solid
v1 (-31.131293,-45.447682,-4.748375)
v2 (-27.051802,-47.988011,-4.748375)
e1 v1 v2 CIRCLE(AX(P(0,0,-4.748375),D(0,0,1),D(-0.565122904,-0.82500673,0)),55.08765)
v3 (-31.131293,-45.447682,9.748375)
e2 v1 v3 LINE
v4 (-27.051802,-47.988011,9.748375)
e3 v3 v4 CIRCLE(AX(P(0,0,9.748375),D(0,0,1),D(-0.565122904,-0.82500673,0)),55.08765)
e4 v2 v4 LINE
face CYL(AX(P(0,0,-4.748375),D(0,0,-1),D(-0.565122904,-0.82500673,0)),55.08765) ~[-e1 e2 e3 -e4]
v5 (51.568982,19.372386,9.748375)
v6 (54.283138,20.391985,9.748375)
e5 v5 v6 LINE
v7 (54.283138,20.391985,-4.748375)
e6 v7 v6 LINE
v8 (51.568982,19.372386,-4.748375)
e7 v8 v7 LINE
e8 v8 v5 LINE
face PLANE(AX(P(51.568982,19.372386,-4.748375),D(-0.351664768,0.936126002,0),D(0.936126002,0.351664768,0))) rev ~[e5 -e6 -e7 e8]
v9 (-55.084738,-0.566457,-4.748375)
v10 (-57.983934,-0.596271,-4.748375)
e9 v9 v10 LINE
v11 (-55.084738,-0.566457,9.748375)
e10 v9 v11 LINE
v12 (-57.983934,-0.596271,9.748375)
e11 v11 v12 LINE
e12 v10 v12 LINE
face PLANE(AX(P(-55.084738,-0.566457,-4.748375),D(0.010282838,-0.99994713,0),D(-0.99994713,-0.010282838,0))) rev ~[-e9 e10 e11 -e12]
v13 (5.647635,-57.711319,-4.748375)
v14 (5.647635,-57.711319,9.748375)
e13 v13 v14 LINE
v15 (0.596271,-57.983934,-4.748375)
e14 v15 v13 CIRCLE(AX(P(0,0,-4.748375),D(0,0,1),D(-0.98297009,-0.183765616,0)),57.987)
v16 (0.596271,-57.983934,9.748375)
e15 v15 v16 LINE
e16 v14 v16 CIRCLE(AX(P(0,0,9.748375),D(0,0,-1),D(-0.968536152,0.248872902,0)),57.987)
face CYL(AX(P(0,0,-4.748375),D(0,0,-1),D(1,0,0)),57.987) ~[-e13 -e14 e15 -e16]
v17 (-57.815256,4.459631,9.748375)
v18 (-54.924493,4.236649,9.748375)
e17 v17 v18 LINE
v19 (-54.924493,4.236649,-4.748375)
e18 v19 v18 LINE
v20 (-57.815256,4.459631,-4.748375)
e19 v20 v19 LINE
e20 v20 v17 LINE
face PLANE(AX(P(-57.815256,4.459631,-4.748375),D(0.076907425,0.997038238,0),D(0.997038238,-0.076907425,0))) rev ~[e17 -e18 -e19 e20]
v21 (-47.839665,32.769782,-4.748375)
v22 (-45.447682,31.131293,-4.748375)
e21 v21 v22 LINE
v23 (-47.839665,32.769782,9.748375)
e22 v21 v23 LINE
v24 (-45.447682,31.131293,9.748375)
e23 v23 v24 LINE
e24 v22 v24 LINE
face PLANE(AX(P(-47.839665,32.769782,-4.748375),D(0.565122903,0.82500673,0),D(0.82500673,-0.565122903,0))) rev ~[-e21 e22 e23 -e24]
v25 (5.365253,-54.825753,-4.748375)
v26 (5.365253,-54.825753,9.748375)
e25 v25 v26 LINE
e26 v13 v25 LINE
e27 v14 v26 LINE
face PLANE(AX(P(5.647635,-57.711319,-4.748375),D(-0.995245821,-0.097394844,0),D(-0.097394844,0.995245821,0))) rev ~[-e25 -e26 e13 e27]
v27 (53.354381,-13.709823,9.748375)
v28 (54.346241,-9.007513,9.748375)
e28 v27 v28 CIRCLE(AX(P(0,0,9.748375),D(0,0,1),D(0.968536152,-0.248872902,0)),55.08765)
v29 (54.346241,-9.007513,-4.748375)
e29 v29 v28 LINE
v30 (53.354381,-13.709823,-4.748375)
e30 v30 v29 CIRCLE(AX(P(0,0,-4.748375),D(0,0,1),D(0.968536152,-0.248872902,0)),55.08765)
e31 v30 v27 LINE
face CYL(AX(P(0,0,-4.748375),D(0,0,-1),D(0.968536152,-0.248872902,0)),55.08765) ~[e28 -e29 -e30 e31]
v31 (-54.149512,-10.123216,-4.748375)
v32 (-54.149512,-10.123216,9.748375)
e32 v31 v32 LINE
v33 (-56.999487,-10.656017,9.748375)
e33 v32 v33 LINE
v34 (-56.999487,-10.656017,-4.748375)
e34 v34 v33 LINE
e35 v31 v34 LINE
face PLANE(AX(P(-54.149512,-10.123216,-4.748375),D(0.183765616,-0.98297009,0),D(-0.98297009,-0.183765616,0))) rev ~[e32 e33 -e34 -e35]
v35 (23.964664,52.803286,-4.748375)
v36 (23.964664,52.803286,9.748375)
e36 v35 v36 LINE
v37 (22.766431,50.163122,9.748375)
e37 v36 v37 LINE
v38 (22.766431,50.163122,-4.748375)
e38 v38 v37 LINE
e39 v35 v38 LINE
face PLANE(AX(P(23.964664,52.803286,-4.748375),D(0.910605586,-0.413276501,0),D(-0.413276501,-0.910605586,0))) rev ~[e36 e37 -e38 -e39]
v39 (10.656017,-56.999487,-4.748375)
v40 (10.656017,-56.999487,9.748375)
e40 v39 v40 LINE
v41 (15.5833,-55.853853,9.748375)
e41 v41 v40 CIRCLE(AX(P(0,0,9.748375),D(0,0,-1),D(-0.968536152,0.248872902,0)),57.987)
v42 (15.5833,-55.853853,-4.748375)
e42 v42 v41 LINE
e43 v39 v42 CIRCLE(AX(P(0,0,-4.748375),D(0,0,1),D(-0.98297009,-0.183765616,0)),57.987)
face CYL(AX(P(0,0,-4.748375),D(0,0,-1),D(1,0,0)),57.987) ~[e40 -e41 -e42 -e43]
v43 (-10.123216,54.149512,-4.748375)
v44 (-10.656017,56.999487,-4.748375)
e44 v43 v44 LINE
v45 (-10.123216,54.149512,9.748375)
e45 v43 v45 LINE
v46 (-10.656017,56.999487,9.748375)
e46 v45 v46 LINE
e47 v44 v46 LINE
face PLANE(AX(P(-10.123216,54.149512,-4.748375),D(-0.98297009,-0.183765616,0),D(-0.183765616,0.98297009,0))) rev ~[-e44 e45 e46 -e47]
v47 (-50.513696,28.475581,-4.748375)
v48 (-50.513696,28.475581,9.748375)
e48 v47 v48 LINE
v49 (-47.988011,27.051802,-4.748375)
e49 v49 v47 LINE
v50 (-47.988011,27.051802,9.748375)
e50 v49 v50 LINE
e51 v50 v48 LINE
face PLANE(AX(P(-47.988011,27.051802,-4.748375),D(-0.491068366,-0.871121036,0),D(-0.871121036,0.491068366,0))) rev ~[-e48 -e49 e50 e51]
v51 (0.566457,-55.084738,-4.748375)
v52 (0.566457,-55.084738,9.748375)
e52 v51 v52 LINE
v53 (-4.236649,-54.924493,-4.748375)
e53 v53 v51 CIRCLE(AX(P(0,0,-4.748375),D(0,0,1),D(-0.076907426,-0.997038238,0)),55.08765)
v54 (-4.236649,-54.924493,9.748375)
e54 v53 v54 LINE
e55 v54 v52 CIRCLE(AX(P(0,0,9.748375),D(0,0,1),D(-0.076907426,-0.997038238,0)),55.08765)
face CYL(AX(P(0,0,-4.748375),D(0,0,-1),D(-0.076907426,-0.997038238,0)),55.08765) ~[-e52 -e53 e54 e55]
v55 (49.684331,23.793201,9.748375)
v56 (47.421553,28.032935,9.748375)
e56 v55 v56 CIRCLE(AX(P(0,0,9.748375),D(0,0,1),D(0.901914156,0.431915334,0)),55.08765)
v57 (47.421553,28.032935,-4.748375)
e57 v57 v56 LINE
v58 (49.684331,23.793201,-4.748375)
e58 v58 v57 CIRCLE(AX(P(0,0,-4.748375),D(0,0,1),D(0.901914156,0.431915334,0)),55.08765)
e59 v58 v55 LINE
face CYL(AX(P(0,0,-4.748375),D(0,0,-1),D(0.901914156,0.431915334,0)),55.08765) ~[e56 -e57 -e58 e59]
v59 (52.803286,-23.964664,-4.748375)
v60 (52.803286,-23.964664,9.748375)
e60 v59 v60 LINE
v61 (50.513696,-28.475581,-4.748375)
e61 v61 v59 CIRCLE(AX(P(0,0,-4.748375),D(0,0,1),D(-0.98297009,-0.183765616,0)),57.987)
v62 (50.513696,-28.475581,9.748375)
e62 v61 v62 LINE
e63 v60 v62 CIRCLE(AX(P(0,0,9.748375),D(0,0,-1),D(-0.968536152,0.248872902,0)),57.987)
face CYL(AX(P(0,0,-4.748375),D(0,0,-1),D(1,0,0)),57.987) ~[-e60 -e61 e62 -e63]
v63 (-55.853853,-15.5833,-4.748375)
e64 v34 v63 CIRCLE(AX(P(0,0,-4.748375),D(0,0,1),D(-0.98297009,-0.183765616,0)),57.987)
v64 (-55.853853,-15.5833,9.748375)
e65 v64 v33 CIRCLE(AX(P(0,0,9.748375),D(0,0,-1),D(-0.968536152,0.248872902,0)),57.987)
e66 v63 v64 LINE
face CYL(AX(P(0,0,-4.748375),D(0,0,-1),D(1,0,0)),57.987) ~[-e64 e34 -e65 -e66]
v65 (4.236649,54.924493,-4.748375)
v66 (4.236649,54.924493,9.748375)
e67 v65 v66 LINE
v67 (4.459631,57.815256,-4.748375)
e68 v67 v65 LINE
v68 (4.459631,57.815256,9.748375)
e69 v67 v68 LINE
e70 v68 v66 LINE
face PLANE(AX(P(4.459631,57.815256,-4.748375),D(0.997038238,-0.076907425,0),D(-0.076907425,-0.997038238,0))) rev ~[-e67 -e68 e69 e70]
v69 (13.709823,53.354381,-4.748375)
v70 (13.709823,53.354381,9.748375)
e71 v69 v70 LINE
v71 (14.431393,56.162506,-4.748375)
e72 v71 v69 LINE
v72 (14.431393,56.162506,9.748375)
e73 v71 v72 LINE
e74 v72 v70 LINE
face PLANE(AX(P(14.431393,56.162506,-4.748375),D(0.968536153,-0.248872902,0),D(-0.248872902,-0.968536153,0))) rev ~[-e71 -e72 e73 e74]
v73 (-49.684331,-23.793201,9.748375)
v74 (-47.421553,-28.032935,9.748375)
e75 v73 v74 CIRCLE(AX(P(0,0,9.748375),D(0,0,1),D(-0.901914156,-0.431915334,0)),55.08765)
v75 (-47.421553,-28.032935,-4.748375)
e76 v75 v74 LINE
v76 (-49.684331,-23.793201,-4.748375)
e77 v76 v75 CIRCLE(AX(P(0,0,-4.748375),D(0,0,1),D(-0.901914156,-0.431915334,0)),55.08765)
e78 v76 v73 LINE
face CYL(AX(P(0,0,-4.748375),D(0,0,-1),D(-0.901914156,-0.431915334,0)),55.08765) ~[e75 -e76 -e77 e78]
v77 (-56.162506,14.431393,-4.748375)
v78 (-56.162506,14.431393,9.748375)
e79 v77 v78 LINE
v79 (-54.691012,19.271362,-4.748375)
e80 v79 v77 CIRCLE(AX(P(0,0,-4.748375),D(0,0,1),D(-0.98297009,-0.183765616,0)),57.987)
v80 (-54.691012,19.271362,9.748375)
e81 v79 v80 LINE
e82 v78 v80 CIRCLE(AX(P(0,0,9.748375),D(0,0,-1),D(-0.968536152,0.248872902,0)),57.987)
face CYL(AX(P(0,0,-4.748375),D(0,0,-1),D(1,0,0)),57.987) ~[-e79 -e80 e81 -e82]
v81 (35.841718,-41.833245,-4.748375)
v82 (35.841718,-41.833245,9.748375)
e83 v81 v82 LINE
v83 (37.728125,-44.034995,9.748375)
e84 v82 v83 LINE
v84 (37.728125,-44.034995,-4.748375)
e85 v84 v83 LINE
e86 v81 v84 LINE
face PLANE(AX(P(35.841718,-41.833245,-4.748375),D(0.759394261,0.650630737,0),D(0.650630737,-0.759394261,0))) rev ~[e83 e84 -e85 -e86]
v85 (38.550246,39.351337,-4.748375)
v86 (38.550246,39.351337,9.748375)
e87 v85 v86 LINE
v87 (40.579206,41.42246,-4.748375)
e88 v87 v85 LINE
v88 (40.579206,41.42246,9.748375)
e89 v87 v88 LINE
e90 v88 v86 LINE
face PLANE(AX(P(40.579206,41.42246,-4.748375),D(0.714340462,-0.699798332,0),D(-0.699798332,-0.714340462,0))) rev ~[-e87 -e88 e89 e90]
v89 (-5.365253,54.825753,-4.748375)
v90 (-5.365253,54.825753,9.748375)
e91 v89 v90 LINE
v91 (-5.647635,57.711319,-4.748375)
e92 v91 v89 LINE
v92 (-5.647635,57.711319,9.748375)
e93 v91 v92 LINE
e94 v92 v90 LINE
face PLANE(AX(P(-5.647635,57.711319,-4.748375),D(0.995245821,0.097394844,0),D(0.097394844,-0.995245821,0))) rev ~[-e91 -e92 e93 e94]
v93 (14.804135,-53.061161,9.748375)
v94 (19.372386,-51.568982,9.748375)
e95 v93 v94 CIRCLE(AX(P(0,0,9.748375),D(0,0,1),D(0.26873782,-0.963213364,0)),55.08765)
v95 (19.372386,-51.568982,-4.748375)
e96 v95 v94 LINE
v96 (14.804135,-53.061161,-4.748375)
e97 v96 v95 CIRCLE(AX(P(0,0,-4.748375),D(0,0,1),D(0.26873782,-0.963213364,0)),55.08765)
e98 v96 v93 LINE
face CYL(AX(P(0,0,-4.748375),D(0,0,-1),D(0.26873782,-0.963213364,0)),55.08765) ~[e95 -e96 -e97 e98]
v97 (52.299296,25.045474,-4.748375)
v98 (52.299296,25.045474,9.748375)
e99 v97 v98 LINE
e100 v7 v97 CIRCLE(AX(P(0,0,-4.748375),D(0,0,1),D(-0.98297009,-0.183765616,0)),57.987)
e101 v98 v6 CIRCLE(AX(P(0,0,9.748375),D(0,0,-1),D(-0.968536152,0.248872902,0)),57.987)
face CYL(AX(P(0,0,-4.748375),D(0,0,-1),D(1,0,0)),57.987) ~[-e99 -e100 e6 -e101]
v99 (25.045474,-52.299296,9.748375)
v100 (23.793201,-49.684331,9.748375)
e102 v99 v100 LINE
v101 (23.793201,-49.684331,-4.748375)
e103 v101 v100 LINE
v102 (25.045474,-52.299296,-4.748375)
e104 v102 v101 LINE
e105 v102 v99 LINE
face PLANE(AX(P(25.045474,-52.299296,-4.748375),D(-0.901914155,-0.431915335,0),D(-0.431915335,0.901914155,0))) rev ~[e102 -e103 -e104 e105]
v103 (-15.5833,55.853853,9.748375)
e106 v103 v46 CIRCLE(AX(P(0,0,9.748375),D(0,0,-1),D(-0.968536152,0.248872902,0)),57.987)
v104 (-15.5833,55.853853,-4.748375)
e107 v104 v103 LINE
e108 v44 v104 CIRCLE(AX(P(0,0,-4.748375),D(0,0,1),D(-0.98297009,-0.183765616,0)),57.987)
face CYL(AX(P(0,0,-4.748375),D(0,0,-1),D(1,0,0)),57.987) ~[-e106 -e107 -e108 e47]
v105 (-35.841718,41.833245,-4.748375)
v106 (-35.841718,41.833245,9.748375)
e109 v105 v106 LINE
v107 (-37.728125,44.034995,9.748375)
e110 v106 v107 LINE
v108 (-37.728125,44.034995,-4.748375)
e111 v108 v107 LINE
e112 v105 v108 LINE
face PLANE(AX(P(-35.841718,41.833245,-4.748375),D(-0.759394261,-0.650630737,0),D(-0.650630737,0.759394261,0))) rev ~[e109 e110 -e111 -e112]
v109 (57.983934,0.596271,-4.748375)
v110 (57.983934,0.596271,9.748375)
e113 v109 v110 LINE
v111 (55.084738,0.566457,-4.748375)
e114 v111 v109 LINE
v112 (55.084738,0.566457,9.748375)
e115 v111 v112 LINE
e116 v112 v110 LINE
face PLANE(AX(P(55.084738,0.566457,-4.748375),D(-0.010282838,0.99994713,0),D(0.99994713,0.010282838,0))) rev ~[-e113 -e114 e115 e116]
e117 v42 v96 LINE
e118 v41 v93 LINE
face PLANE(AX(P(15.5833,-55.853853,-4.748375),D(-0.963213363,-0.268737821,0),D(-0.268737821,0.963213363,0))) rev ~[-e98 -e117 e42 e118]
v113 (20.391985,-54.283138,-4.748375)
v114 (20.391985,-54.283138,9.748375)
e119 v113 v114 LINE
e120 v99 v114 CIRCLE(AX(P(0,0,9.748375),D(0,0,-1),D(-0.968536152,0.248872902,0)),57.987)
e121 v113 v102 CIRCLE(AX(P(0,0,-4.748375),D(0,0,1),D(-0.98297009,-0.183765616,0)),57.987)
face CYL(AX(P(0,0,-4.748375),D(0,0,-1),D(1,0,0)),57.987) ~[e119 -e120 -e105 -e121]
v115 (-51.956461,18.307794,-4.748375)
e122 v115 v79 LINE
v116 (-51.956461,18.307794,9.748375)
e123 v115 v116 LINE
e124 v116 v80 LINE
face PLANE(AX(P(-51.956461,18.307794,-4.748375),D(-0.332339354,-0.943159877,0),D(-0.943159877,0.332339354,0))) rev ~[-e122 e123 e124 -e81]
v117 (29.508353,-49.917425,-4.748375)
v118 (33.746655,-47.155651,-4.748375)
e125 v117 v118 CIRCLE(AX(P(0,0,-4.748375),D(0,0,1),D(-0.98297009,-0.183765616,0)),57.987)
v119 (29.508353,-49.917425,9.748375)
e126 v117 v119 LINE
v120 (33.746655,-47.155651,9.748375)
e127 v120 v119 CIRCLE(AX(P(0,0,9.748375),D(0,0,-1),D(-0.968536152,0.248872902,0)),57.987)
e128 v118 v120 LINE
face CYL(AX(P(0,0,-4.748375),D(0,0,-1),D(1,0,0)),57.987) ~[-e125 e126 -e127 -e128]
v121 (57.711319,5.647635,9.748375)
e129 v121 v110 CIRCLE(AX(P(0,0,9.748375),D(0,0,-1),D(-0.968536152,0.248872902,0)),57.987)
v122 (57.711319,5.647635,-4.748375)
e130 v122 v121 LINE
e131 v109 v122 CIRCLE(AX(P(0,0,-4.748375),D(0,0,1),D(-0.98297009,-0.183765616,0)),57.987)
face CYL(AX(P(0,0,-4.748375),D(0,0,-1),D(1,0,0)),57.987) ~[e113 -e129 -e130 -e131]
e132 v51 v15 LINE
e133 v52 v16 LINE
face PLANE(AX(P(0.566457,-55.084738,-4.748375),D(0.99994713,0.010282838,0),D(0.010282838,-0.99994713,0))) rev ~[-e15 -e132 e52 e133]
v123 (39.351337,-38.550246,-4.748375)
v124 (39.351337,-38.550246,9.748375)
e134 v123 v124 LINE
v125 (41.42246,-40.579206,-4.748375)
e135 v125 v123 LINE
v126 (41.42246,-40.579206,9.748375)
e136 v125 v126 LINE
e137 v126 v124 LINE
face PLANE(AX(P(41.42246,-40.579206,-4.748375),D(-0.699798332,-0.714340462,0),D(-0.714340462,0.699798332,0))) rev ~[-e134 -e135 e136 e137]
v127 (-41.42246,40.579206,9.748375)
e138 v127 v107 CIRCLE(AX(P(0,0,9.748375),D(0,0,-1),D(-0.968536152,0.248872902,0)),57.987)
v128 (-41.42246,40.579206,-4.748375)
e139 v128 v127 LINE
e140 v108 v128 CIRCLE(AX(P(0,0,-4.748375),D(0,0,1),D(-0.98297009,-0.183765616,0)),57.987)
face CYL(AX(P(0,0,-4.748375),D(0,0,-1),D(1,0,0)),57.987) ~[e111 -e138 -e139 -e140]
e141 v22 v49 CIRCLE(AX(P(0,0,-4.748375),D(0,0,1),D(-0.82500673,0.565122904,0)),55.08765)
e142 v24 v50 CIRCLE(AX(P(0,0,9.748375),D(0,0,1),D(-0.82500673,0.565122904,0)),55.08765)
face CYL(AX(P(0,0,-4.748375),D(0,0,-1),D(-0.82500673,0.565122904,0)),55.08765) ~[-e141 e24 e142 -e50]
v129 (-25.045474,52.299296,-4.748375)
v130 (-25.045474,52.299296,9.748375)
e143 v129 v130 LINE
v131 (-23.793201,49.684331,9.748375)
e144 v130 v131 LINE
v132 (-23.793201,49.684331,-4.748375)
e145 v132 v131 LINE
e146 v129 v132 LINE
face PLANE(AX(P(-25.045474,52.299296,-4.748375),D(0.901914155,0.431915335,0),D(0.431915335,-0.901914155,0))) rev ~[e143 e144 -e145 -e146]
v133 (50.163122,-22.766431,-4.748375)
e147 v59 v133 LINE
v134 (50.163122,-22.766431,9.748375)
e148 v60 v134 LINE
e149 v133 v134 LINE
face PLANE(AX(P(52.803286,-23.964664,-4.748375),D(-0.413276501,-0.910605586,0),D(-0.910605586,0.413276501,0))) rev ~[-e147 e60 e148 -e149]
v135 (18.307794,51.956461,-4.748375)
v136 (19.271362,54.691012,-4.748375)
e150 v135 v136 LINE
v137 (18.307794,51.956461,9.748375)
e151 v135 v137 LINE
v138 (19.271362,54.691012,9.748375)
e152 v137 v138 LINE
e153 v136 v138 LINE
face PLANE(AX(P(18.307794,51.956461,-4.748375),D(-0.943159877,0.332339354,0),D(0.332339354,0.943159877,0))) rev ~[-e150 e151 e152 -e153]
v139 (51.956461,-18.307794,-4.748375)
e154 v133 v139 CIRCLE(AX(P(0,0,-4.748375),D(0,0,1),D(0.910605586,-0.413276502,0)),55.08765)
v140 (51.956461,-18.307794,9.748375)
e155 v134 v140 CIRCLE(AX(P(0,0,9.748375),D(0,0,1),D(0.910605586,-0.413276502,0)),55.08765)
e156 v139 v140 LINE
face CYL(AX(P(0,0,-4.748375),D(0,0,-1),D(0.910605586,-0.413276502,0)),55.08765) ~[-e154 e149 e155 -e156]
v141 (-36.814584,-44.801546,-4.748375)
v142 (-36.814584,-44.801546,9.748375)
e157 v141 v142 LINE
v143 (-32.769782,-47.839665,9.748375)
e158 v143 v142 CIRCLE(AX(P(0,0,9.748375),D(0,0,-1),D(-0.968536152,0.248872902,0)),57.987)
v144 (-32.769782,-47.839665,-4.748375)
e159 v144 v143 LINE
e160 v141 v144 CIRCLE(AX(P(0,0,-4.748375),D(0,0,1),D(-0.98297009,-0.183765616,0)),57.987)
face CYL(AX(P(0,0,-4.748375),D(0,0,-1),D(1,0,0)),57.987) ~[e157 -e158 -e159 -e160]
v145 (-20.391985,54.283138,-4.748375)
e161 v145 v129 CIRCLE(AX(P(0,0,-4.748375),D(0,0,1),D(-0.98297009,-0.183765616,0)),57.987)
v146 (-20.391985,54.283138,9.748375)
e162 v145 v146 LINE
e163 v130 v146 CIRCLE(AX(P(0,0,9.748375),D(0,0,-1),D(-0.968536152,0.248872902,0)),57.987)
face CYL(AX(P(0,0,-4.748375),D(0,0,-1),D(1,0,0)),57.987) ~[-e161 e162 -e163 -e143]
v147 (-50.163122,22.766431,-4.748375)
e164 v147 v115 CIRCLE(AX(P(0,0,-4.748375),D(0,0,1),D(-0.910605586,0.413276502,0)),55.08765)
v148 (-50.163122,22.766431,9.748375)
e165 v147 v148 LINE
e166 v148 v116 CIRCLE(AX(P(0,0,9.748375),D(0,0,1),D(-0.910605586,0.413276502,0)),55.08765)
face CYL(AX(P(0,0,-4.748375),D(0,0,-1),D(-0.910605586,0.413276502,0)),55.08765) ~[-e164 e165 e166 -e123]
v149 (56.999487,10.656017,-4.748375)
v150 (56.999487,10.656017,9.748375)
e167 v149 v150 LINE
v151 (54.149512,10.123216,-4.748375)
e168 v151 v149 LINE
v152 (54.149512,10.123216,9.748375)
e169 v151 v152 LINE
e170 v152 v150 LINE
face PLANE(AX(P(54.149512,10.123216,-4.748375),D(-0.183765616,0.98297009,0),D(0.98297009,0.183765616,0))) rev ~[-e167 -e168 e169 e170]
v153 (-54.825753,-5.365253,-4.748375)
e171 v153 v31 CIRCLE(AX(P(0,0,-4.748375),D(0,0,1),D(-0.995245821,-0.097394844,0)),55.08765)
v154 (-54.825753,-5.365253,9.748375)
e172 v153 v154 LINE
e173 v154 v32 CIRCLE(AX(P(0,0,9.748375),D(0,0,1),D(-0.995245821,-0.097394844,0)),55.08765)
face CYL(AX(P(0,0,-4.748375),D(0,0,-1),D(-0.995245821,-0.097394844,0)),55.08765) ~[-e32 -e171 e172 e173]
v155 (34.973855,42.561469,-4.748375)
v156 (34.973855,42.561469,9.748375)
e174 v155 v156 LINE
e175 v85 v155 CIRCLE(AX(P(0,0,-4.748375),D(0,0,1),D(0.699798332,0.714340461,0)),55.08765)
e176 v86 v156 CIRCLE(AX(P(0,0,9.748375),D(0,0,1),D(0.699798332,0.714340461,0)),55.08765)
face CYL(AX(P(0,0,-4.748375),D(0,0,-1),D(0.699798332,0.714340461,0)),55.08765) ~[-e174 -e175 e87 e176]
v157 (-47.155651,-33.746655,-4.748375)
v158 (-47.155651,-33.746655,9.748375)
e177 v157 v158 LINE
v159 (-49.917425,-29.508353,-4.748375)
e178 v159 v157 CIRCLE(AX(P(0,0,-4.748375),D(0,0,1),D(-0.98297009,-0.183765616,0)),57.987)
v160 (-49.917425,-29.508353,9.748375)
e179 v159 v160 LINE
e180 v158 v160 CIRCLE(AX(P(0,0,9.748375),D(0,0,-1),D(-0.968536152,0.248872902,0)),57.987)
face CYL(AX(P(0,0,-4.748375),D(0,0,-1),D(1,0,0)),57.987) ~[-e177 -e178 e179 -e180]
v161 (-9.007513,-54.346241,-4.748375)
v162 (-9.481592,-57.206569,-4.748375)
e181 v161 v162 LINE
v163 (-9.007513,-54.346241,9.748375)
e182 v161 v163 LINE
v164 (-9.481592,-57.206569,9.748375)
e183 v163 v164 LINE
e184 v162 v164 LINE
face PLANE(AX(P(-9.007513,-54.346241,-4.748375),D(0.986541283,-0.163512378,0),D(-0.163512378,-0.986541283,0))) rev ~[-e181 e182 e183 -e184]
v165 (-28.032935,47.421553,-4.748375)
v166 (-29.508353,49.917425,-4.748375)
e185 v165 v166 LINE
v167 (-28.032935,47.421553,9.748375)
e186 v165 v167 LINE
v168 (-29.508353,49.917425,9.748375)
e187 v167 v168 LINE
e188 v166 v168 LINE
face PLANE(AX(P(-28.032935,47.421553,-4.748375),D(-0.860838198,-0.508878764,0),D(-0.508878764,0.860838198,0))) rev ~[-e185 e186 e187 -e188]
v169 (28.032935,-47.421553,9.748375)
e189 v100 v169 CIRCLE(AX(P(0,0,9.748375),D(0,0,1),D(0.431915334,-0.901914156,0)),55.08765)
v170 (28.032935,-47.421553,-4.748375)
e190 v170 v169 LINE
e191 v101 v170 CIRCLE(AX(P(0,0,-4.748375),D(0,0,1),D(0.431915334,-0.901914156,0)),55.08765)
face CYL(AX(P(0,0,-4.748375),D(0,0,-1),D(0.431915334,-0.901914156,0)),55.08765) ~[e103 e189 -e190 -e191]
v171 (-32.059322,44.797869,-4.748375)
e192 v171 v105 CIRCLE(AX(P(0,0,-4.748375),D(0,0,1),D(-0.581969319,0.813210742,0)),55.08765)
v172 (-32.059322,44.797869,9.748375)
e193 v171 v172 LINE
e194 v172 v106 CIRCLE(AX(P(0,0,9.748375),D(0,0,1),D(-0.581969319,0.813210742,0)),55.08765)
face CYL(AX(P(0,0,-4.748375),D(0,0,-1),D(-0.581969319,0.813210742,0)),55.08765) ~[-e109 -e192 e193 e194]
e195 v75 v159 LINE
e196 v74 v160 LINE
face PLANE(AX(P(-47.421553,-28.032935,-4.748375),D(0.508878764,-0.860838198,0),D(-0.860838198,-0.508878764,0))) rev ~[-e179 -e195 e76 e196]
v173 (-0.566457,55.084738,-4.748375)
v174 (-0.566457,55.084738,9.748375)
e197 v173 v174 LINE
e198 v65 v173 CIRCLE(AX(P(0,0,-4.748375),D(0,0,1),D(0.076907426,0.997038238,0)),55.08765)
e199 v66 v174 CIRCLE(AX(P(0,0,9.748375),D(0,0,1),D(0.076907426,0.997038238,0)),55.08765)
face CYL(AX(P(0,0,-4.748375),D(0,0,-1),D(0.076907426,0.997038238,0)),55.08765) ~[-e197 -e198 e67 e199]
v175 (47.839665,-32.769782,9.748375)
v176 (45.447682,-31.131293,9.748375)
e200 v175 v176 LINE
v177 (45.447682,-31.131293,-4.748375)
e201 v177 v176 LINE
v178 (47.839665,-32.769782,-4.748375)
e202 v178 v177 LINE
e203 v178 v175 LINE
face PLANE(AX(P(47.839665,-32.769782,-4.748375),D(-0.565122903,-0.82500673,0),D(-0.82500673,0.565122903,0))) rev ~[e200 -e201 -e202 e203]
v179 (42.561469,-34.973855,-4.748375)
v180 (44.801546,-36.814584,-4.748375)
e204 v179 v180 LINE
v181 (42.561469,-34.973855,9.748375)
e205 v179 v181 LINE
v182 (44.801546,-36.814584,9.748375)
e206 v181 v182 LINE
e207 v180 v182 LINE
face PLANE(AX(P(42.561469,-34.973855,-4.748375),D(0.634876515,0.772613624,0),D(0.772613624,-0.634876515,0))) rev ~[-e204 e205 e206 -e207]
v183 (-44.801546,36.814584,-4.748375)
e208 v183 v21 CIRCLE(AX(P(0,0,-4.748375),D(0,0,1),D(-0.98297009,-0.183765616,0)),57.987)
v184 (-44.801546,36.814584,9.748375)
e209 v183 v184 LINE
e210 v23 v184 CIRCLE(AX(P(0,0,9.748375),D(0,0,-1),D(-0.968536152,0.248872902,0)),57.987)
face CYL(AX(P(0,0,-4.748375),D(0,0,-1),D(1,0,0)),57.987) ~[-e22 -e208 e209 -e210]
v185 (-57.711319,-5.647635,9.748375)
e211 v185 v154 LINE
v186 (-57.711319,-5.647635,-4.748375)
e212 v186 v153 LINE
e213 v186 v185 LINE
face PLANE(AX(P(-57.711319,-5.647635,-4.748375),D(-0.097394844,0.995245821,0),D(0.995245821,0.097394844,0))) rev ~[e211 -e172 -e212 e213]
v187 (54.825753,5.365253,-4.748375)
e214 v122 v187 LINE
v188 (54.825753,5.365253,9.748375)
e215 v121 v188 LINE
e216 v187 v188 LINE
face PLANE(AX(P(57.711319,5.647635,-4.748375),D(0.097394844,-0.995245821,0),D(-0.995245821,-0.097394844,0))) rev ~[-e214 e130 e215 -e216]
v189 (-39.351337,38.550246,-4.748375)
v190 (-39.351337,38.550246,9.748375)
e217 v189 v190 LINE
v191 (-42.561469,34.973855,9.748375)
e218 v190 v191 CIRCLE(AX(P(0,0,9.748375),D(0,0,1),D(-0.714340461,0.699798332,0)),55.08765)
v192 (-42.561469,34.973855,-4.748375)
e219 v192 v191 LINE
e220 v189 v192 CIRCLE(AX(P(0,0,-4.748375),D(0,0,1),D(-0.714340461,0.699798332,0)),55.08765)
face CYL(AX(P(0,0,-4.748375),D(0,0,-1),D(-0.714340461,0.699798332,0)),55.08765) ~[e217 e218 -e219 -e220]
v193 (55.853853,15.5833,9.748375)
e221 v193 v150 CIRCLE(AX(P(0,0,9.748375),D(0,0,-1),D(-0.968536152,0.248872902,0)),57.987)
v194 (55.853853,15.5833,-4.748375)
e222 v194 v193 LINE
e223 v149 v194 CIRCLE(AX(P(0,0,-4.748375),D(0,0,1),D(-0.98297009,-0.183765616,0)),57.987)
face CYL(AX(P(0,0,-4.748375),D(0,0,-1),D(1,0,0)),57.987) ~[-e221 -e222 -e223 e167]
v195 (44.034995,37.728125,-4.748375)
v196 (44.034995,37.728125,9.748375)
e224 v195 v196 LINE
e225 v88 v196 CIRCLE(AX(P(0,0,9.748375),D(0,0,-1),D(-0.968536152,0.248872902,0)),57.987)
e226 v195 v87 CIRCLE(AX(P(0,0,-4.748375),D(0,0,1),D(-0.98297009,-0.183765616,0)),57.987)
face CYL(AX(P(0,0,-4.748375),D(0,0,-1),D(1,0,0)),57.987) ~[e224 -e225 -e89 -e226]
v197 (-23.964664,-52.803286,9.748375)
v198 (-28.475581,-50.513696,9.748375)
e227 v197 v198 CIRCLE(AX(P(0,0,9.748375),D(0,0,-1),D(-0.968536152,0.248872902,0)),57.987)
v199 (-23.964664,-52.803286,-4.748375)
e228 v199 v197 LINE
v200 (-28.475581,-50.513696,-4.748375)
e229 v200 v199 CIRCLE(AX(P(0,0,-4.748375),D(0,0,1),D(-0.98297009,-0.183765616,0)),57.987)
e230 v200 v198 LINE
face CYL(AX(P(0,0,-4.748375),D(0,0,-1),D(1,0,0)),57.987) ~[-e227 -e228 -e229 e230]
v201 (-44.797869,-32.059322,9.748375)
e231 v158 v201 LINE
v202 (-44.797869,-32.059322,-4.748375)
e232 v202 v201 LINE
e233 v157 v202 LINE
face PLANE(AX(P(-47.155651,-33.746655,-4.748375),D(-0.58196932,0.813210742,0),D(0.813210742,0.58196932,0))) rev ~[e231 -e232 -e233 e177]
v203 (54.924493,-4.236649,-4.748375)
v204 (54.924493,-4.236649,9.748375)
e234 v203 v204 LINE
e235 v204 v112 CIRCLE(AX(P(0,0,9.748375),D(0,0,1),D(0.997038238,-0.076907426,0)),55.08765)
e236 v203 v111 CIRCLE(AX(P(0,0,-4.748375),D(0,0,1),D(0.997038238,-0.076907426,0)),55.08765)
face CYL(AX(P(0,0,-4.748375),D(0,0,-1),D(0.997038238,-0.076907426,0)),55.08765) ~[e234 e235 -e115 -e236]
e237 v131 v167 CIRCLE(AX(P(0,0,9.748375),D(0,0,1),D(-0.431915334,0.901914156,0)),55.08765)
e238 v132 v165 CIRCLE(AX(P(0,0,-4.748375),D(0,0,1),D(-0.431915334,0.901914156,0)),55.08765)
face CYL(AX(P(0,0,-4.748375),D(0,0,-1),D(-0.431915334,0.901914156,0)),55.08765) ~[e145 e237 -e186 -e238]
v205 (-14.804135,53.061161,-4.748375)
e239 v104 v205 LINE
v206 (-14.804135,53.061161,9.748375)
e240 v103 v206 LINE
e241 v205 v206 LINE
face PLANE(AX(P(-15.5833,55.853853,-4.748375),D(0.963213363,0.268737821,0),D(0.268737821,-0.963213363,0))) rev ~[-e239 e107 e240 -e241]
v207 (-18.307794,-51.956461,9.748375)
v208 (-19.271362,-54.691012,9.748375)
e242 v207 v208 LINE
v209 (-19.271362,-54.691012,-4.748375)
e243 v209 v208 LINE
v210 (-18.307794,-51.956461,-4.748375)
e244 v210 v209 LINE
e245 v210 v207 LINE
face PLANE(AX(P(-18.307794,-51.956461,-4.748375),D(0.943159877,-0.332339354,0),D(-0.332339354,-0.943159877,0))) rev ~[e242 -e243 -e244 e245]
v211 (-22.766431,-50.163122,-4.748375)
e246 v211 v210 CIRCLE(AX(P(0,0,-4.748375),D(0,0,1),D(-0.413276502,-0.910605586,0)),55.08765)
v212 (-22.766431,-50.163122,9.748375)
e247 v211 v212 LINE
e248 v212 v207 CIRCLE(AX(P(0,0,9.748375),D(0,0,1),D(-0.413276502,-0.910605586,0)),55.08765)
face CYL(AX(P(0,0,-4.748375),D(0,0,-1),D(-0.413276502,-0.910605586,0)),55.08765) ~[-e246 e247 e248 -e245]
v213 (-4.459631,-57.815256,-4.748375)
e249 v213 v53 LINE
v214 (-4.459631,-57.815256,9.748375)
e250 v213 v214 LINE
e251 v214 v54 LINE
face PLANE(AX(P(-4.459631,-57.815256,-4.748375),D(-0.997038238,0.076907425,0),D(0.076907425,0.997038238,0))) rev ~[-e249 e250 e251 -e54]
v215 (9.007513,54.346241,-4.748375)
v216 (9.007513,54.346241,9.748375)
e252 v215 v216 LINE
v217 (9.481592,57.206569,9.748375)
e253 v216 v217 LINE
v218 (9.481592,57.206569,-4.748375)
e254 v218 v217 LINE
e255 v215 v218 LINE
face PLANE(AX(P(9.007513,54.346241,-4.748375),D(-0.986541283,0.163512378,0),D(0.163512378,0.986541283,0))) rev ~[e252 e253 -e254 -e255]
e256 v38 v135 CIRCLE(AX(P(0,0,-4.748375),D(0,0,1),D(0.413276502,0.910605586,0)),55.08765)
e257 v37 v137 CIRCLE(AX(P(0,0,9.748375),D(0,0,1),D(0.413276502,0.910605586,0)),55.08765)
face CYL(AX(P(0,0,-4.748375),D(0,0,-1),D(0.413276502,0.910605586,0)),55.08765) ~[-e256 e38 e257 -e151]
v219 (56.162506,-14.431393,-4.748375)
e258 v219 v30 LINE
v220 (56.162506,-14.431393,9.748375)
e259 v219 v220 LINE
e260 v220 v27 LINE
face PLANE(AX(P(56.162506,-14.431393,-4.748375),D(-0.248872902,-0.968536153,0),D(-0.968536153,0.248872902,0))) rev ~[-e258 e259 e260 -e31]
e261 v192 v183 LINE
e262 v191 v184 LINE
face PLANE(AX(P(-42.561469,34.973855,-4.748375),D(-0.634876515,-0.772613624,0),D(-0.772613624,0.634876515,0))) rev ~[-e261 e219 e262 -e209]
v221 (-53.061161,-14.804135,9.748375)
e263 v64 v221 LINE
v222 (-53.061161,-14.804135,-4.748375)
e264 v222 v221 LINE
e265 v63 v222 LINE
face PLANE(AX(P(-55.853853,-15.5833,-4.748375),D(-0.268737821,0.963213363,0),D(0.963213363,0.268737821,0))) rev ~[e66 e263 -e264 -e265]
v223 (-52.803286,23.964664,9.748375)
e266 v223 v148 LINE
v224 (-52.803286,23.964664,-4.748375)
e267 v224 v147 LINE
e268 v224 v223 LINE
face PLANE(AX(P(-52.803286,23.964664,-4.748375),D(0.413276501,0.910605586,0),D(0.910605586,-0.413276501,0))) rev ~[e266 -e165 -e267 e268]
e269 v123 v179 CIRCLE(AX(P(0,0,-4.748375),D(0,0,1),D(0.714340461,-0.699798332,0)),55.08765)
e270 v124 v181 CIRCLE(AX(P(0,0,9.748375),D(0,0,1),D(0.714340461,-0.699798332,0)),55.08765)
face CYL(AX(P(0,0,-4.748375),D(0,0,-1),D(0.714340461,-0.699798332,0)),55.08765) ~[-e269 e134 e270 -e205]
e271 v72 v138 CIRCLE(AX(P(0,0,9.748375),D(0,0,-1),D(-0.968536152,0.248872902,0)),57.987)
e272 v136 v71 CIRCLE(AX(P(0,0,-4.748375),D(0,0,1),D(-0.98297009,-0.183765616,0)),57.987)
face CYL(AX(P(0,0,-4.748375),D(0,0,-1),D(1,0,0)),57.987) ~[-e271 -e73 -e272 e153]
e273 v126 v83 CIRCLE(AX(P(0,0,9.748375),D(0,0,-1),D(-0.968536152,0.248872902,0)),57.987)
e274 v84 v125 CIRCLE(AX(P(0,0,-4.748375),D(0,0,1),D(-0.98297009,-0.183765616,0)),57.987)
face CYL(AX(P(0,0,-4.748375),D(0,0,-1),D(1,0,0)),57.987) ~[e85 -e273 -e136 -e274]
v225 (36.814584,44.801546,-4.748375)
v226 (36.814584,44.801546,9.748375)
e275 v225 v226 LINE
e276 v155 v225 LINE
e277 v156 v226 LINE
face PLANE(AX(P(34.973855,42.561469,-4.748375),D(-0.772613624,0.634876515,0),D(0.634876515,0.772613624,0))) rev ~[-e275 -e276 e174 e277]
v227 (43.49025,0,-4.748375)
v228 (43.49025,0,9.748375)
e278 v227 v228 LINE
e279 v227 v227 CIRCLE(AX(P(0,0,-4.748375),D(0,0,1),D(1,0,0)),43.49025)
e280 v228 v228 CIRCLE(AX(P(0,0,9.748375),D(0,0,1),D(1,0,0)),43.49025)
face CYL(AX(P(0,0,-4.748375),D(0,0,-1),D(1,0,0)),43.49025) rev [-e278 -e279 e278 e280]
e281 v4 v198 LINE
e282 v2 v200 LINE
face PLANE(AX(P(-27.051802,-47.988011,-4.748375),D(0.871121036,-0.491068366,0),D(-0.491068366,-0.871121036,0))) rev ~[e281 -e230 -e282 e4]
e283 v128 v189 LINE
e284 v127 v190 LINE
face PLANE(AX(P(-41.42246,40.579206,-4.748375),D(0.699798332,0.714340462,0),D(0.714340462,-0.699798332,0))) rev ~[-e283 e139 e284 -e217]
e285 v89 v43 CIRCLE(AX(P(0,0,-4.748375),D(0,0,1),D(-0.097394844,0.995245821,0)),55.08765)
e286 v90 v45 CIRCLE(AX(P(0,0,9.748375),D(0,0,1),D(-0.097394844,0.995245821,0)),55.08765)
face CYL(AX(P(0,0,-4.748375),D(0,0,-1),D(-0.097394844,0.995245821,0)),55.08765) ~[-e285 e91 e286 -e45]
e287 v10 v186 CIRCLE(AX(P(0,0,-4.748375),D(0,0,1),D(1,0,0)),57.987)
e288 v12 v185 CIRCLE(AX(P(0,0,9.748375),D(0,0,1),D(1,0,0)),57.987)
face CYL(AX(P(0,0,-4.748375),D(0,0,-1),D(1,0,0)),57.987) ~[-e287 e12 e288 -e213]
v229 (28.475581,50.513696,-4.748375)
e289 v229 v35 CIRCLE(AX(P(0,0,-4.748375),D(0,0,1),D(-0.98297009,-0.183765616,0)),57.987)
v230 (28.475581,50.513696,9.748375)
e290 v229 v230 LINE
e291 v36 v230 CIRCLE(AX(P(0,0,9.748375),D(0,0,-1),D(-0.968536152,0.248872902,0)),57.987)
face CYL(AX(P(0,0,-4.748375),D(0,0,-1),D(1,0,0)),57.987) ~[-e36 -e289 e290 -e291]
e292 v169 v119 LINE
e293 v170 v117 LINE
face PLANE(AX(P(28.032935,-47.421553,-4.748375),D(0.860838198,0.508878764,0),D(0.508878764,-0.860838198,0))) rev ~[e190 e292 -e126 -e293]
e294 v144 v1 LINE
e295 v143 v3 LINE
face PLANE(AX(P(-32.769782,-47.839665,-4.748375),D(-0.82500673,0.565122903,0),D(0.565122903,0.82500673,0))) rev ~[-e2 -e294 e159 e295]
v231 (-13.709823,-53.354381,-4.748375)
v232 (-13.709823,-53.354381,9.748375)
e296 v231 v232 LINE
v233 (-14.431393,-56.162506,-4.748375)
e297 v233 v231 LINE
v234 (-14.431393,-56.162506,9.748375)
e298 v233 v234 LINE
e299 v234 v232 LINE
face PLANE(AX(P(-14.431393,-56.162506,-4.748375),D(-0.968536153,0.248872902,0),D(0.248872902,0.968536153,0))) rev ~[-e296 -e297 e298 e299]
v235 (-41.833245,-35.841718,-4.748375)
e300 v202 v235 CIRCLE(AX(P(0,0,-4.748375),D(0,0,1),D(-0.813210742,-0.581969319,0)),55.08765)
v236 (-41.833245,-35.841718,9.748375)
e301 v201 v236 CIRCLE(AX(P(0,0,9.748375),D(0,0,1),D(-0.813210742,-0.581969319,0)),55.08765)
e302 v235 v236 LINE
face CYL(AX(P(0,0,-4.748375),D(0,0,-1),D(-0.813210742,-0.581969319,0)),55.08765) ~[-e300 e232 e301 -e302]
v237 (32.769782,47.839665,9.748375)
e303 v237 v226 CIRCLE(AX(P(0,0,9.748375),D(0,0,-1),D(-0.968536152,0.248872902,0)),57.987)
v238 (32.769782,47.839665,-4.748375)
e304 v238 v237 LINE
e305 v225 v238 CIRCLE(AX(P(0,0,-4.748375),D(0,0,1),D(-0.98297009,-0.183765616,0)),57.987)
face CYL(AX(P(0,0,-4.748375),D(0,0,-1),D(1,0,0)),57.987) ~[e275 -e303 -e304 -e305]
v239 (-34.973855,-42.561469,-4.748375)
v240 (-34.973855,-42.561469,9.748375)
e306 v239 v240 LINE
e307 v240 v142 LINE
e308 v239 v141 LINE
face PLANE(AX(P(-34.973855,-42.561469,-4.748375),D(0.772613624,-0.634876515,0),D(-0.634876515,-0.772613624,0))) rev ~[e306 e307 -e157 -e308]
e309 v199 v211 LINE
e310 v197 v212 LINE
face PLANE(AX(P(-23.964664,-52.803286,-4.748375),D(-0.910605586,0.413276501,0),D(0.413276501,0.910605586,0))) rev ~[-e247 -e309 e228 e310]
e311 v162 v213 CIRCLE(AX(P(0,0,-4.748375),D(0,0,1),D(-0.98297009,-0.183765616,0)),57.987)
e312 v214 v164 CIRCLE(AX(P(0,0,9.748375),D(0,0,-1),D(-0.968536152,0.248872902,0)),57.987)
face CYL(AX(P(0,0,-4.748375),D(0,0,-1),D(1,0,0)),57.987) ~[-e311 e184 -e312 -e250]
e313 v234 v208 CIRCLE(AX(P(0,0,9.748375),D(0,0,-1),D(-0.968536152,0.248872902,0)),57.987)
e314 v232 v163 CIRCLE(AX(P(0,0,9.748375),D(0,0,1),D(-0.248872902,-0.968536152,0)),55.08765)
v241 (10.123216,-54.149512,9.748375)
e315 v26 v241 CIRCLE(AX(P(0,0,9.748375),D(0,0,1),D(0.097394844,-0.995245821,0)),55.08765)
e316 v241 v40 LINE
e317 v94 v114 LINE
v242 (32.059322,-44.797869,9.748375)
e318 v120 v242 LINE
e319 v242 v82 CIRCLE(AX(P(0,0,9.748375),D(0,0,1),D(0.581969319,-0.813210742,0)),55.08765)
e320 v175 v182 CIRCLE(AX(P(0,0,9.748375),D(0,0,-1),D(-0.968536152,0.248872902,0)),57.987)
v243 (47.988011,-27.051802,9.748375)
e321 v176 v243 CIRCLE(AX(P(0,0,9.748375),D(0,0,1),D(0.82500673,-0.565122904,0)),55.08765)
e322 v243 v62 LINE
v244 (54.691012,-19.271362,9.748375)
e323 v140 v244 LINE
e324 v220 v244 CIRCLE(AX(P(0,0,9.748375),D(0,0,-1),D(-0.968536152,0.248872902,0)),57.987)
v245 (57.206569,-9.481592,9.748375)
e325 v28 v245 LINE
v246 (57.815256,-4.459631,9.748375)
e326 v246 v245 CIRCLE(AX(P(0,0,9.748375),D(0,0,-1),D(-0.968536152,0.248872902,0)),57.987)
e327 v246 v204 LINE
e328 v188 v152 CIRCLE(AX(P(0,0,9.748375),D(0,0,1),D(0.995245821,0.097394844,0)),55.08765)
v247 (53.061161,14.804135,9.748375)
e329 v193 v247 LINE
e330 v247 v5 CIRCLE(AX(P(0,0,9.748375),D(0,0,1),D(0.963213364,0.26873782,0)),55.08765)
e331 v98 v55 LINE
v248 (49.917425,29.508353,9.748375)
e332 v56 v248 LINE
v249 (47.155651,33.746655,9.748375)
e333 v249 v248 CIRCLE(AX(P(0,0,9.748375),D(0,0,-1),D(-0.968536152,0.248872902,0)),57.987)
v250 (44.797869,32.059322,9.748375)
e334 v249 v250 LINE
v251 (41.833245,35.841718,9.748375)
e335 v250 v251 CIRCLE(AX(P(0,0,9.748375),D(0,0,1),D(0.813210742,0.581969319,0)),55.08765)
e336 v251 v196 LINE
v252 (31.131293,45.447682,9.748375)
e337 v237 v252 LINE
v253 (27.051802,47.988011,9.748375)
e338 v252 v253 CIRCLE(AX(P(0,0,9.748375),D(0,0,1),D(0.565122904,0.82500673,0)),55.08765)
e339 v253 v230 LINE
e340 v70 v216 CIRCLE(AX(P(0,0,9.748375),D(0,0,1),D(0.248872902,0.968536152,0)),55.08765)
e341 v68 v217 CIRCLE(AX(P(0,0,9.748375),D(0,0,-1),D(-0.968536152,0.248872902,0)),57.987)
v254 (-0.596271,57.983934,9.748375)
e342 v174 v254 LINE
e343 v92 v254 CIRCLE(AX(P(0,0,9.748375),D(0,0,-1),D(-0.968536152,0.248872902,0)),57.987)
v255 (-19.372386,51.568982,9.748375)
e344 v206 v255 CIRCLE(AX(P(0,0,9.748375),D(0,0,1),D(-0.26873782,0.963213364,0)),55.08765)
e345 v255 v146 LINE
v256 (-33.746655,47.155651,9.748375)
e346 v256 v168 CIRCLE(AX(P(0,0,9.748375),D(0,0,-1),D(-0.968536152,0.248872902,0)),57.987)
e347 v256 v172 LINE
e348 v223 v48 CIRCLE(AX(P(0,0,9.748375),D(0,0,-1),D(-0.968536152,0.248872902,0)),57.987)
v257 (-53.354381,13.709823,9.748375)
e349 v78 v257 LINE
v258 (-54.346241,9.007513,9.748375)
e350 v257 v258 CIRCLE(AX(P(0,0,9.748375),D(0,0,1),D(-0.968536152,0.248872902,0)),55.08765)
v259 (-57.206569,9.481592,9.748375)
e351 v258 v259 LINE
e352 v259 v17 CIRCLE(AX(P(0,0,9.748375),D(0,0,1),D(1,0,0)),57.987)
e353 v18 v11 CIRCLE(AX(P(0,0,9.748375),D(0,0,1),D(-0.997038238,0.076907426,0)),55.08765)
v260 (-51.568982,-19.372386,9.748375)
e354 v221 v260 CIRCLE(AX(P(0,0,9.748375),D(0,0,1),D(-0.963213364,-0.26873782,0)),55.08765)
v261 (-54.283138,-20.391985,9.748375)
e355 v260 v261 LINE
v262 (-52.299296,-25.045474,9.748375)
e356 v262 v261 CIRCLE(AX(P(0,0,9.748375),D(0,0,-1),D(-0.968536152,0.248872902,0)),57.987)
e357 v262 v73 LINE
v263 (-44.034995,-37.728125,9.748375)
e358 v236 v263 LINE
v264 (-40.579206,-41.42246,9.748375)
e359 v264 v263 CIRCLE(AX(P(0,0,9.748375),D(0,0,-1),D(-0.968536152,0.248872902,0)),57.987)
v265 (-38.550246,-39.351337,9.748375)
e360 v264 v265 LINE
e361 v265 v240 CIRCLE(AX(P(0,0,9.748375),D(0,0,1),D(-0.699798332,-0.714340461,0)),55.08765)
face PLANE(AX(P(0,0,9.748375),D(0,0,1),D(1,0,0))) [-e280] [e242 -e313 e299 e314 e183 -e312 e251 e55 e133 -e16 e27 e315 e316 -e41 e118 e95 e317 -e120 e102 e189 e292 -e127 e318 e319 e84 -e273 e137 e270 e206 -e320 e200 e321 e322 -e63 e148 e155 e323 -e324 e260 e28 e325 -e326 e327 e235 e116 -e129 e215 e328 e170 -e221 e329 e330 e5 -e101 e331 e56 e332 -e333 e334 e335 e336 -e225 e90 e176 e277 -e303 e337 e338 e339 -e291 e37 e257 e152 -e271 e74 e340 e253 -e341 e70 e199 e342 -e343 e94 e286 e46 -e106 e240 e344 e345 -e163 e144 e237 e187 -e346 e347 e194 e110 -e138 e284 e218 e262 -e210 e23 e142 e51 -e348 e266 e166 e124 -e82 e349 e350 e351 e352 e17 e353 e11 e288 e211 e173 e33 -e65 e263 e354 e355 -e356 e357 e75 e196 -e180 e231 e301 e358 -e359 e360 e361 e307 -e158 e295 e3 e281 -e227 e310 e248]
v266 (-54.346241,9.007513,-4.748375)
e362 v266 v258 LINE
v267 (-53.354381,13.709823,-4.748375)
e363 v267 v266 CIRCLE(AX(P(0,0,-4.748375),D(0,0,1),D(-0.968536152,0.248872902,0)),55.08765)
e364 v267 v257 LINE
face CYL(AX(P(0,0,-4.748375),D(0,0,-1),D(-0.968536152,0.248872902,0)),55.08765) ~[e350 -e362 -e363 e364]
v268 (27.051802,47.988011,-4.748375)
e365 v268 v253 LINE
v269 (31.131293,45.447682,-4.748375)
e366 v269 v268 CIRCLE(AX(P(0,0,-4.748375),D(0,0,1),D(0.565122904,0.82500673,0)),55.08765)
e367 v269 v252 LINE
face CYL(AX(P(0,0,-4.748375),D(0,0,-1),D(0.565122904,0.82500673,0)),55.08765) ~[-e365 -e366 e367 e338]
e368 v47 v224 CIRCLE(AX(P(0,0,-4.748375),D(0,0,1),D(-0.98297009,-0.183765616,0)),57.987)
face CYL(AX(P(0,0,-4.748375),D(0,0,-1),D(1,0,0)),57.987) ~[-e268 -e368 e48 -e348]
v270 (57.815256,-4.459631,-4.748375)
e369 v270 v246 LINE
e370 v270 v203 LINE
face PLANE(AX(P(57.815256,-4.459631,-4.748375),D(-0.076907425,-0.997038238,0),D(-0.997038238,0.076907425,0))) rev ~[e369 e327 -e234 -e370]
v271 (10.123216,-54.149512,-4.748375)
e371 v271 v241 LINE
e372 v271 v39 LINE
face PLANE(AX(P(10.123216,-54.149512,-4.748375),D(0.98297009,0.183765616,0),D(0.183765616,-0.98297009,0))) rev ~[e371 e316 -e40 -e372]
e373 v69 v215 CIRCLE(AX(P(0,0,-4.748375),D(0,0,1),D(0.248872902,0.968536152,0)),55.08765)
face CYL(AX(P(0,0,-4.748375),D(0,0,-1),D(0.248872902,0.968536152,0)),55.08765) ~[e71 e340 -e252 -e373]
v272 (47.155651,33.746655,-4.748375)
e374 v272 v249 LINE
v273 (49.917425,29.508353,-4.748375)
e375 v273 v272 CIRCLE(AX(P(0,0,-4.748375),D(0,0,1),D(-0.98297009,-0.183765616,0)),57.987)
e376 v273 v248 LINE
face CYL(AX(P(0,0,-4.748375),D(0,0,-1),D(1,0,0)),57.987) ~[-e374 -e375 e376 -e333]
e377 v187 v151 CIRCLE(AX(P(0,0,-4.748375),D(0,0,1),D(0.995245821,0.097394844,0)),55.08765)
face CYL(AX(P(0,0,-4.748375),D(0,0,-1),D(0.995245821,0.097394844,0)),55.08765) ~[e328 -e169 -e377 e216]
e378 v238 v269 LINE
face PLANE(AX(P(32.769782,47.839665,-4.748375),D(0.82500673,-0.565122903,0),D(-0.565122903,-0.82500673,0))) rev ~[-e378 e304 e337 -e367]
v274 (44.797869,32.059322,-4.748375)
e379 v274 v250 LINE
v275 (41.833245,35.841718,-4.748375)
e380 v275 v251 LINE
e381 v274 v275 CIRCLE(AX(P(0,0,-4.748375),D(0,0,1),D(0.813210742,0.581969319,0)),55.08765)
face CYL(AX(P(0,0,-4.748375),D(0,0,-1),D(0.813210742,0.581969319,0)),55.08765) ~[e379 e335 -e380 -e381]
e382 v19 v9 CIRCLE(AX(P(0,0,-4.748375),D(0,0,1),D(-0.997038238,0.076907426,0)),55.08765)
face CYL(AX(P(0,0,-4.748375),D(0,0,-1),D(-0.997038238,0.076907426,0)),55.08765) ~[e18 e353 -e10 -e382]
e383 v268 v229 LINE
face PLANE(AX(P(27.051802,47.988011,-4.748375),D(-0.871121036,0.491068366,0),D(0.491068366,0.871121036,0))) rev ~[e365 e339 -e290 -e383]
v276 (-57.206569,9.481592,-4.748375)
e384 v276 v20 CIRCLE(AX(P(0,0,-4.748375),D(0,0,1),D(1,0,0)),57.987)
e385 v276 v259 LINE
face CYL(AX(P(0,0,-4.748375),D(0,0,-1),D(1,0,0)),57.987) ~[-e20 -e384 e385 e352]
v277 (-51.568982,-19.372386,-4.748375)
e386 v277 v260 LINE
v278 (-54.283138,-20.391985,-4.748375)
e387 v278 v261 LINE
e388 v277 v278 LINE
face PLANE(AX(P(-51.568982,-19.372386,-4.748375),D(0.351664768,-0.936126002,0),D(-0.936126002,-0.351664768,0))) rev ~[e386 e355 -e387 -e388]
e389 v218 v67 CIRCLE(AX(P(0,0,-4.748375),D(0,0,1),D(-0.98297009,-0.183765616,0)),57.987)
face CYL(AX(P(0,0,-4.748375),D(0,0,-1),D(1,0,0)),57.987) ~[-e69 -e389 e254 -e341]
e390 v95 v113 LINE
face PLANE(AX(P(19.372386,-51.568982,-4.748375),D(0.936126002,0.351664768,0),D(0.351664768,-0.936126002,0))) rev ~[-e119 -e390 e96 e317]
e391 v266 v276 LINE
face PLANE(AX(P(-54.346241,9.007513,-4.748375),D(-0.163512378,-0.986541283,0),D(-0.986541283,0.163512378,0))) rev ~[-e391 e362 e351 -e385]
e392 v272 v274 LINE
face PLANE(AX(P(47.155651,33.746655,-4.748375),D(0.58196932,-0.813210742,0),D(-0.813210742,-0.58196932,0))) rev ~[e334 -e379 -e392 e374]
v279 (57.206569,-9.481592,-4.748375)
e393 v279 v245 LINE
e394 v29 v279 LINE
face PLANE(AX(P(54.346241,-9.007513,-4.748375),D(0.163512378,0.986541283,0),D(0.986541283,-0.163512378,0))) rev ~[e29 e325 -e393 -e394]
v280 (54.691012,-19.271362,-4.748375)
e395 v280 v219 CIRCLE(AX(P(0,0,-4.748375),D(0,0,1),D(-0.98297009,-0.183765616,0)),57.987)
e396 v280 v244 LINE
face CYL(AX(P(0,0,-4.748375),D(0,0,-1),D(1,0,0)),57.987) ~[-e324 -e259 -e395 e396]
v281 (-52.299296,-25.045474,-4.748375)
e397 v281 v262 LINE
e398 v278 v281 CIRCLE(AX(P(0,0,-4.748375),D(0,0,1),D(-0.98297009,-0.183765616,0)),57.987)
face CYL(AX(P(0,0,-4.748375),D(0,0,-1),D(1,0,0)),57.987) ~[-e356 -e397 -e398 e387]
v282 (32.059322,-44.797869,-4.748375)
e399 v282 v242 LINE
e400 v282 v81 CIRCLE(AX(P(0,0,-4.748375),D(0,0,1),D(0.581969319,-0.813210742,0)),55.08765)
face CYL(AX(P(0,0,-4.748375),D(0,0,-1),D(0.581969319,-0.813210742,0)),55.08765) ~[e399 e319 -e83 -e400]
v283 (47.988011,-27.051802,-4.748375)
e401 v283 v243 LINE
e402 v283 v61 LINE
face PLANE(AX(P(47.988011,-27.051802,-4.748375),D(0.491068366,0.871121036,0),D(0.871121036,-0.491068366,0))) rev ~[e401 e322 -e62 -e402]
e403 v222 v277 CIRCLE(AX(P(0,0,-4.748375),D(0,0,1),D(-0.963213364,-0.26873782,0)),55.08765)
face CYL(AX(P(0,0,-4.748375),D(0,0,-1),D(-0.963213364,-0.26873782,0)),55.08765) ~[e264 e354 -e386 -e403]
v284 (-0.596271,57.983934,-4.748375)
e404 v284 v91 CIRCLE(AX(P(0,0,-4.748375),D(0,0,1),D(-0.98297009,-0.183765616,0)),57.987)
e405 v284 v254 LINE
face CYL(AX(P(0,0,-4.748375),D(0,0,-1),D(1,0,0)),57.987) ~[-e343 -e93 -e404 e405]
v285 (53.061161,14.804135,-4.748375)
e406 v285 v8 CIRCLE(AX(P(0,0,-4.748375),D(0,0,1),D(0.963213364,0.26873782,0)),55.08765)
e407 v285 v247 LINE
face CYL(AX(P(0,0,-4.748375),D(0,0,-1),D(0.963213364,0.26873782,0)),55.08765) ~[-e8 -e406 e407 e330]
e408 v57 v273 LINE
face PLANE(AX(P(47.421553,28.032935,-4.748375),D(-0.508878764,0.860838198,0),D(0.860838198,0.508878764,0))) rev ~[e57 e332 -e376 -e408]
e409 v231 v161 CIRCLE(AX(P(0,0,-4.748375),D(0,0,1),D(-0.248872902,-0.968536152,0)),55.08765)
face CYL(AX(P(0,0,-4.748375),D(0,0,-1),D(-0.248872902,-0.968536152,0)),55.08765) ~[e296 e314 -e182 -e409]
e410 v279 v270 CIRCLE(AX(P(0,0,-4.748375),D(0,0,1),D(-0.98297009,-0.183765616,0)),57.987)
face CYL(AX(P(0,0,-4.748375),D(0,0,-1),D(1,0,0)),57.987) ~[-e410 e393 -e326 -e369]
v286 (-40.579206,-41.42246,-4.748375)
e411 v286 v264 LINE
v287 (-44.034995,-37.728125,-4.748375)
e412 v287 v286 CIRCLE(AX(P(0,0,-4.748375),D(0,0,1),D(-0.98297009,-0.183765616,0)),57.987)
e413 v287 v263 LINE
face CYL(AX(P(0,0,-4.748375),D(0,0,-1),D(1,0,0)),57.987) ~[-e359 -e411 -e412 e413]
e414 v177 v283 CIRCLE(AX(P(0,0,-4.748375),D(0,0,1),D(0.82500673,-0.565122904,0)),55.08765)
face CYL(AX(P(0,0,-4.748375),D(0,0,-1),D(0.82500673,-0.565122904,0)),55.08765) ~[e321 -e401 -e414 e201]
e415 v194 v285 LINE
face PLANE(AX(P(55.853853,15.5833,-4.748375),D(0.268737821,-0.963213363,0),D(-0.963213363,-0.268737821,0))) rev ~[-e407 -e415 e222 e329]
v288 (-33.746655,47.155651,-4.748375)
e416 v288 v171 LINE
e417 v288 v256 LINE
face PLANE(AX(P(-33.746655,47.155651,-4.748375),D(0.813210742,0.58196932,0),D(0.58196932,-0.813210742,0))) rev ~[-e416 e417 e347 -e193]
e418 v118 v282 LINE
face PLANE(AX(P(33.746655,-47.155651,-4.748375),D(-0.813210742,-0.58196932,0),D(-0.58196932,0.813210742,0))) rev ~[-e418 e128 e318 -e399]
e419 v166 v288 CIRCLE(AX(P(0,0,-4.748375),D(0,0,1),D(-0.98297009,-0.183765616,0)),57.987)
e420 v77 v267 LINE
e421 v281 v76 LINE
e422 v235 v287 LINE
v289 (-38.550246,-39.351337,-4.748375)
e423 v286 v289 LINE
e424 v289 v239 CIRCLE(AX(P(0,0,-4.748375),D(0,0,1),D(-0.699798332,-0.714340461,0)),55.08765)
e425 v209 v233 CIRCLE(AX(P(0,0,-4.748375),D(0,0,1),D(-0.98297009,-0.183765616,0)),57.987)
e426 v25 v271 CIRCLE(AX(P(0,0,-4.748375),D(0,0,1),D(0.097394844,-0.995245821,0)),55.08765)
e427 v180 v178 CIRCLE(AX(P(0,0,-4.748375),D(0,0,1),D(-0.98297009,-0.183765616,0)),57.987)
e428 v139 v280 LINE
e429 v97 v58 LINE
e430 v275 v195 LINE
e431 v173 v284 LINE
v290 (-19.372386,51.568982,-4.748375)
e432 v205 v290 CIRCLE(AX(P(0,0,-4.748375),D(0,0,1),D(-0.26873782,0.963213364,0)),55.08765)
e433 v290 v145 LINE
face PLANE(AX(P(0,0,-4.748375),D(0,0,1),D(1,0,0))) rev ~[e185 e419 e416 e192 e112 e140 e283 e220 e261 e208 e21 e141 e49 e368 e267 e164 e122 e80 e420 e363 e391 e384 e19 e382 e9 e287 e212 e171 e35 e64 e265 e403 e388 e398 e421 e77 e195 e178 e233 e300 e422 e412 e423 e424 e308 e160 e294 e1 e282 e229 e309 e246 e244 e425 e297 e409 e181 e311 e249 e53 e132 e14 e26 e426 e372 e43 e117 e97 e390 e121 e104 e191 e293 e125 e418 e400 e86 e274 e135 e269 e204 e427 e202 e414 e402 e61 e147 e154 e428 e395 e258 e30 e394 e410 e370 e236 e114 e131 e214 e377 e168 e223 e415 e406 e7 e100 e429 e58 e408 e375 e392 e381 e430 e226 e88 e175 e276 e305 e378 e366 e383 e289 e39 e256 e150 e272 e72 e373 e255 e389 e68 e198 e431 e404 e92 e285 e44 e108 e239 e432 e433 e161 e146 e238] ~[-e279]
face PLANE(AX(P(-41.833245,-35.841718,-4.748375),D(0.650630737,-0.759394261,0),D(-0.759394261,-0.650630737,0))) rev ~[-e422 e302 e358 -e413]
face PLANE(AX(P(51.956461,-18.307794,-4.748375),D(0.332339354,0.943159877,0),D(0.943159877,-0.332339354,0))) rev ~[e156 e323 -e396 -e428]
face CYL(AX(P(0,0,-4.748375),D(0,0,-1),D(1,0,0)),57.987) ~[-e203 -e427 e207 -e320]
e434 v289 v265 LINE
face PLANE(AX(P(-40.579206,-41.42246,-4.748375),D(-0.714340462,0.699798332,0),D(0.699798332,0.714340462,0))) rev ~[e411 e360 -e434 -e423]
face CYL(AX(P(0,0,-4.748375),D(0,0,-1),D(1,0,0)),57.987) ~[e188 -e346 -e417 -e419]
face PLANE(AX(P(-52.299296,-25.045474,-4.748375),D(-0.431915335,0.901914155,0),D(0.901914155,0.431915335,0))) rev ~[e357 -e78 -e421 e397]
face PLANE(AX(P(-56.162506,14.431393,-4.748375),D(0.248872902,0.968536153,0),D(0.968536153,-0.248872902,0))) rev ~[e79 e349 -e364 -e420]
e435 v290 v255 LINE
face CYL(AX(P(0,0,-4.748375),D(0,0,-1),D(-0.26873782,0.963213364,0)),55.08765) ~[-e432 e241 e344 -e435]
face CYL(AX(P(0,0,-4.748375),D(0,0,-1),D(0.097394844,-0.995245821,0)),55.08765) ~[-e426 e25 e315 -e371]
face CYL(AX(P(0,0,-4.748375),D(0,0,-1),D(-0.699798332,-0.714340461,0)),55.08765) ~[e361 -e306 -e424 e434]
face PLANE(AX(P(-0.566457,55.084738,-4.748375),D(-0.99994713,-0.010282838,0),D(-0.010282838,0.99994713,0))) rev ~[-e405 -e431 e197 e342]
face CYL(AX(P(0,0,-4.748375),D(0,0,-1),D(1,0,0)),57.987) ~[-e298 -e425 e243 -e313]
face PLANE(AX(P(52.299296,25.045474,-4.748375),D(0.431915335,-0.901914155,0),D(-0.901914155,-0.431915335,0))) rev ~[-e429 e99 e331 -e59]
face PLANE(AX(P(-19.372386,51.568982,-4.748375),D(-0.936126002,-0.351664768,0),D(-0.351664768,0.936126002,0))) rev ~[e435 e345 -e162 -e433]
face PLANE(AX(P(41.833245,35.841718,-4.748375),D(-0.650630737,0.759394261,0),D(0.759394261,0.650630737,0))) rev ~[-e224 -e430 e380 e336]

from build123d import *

# Parameters (mm, degrees)
SKETCH1_R           = 20
SKETCH1_R_2         = 15
BOSS_EXTRUDE1_DEPTH = 5
CUT_EXTRUDE1_START  = -5
CUT_EXTRUDE1_DEPTH  = 5
CIRPATTERN1_COUNT   = 36
SCALE1_SCALE        = 1.9329
SCALE2_SCALE        = 1.5


with BuildPart() as part:
    # Sketch1 → Boss-Extrude1 (new body)
    with BuildSketch(Plane.XY):
        Circle(SKETCH1_R)
        Circle(SKETCH1_R_2, mode=Mode.SUBTRACT)
    extrude(amount=BOSS_EXTRUDE1_DEPTH)

    # Sketch2 → Cut-Extrude1 (cut)
    with BuildSketch(Plane.XY.offset(5).offset(CUT_EXTRUDE1_START)):
        with BuildLine():
            Line((-18.744284369, 3.106735184), (-19.730825651, 3.270247562))
            ThreePointArc((-19.730825651, 3.270247562), (-19.569400082, 4.127781538), (-19.370723048, 4.977458047))
            Line((-19.370723048, 4.977458047), (-18.402186895, 4.728585145))
            ThreePointArc((-18.402186895, 4.728585145), (-18.590930078, 3.921392461), (-18.744284369, 3.106735184))
        make_face()
    cut_extrude1 = extrude(amount=CUT_EXTRUDE1_DEPTH, mode=Mode.SUBTRACT)

    # CirPattern1: Cut-Extrude1 ×36 about axis
    cirpattern1_axis = Axis((0, 0, 5), (0, 0, 1))
    for i in range(1, CIRPATTERN1_COUNT):
        add(cut_extrude1.rotate(cirpattern1_axis, i * 360 / CIRPATTERN1_COUNT), mode=Mode.SUBTRACT)


with BuildPart() as part_1:
    # Scale1: scaled about (0, 0, 2.5)
    add(part.part.scale(SCALE1_SCALE).moved(Location((0, 0, -2.33225))))


with BuildPart() as part_2:
    # Scale2: scaled about (0, 0, 2.5)
    add(part_1.part.scale(SCALE2_SCALE).moved(Location((0, 0, -1.25))))


solid = part_2.part
